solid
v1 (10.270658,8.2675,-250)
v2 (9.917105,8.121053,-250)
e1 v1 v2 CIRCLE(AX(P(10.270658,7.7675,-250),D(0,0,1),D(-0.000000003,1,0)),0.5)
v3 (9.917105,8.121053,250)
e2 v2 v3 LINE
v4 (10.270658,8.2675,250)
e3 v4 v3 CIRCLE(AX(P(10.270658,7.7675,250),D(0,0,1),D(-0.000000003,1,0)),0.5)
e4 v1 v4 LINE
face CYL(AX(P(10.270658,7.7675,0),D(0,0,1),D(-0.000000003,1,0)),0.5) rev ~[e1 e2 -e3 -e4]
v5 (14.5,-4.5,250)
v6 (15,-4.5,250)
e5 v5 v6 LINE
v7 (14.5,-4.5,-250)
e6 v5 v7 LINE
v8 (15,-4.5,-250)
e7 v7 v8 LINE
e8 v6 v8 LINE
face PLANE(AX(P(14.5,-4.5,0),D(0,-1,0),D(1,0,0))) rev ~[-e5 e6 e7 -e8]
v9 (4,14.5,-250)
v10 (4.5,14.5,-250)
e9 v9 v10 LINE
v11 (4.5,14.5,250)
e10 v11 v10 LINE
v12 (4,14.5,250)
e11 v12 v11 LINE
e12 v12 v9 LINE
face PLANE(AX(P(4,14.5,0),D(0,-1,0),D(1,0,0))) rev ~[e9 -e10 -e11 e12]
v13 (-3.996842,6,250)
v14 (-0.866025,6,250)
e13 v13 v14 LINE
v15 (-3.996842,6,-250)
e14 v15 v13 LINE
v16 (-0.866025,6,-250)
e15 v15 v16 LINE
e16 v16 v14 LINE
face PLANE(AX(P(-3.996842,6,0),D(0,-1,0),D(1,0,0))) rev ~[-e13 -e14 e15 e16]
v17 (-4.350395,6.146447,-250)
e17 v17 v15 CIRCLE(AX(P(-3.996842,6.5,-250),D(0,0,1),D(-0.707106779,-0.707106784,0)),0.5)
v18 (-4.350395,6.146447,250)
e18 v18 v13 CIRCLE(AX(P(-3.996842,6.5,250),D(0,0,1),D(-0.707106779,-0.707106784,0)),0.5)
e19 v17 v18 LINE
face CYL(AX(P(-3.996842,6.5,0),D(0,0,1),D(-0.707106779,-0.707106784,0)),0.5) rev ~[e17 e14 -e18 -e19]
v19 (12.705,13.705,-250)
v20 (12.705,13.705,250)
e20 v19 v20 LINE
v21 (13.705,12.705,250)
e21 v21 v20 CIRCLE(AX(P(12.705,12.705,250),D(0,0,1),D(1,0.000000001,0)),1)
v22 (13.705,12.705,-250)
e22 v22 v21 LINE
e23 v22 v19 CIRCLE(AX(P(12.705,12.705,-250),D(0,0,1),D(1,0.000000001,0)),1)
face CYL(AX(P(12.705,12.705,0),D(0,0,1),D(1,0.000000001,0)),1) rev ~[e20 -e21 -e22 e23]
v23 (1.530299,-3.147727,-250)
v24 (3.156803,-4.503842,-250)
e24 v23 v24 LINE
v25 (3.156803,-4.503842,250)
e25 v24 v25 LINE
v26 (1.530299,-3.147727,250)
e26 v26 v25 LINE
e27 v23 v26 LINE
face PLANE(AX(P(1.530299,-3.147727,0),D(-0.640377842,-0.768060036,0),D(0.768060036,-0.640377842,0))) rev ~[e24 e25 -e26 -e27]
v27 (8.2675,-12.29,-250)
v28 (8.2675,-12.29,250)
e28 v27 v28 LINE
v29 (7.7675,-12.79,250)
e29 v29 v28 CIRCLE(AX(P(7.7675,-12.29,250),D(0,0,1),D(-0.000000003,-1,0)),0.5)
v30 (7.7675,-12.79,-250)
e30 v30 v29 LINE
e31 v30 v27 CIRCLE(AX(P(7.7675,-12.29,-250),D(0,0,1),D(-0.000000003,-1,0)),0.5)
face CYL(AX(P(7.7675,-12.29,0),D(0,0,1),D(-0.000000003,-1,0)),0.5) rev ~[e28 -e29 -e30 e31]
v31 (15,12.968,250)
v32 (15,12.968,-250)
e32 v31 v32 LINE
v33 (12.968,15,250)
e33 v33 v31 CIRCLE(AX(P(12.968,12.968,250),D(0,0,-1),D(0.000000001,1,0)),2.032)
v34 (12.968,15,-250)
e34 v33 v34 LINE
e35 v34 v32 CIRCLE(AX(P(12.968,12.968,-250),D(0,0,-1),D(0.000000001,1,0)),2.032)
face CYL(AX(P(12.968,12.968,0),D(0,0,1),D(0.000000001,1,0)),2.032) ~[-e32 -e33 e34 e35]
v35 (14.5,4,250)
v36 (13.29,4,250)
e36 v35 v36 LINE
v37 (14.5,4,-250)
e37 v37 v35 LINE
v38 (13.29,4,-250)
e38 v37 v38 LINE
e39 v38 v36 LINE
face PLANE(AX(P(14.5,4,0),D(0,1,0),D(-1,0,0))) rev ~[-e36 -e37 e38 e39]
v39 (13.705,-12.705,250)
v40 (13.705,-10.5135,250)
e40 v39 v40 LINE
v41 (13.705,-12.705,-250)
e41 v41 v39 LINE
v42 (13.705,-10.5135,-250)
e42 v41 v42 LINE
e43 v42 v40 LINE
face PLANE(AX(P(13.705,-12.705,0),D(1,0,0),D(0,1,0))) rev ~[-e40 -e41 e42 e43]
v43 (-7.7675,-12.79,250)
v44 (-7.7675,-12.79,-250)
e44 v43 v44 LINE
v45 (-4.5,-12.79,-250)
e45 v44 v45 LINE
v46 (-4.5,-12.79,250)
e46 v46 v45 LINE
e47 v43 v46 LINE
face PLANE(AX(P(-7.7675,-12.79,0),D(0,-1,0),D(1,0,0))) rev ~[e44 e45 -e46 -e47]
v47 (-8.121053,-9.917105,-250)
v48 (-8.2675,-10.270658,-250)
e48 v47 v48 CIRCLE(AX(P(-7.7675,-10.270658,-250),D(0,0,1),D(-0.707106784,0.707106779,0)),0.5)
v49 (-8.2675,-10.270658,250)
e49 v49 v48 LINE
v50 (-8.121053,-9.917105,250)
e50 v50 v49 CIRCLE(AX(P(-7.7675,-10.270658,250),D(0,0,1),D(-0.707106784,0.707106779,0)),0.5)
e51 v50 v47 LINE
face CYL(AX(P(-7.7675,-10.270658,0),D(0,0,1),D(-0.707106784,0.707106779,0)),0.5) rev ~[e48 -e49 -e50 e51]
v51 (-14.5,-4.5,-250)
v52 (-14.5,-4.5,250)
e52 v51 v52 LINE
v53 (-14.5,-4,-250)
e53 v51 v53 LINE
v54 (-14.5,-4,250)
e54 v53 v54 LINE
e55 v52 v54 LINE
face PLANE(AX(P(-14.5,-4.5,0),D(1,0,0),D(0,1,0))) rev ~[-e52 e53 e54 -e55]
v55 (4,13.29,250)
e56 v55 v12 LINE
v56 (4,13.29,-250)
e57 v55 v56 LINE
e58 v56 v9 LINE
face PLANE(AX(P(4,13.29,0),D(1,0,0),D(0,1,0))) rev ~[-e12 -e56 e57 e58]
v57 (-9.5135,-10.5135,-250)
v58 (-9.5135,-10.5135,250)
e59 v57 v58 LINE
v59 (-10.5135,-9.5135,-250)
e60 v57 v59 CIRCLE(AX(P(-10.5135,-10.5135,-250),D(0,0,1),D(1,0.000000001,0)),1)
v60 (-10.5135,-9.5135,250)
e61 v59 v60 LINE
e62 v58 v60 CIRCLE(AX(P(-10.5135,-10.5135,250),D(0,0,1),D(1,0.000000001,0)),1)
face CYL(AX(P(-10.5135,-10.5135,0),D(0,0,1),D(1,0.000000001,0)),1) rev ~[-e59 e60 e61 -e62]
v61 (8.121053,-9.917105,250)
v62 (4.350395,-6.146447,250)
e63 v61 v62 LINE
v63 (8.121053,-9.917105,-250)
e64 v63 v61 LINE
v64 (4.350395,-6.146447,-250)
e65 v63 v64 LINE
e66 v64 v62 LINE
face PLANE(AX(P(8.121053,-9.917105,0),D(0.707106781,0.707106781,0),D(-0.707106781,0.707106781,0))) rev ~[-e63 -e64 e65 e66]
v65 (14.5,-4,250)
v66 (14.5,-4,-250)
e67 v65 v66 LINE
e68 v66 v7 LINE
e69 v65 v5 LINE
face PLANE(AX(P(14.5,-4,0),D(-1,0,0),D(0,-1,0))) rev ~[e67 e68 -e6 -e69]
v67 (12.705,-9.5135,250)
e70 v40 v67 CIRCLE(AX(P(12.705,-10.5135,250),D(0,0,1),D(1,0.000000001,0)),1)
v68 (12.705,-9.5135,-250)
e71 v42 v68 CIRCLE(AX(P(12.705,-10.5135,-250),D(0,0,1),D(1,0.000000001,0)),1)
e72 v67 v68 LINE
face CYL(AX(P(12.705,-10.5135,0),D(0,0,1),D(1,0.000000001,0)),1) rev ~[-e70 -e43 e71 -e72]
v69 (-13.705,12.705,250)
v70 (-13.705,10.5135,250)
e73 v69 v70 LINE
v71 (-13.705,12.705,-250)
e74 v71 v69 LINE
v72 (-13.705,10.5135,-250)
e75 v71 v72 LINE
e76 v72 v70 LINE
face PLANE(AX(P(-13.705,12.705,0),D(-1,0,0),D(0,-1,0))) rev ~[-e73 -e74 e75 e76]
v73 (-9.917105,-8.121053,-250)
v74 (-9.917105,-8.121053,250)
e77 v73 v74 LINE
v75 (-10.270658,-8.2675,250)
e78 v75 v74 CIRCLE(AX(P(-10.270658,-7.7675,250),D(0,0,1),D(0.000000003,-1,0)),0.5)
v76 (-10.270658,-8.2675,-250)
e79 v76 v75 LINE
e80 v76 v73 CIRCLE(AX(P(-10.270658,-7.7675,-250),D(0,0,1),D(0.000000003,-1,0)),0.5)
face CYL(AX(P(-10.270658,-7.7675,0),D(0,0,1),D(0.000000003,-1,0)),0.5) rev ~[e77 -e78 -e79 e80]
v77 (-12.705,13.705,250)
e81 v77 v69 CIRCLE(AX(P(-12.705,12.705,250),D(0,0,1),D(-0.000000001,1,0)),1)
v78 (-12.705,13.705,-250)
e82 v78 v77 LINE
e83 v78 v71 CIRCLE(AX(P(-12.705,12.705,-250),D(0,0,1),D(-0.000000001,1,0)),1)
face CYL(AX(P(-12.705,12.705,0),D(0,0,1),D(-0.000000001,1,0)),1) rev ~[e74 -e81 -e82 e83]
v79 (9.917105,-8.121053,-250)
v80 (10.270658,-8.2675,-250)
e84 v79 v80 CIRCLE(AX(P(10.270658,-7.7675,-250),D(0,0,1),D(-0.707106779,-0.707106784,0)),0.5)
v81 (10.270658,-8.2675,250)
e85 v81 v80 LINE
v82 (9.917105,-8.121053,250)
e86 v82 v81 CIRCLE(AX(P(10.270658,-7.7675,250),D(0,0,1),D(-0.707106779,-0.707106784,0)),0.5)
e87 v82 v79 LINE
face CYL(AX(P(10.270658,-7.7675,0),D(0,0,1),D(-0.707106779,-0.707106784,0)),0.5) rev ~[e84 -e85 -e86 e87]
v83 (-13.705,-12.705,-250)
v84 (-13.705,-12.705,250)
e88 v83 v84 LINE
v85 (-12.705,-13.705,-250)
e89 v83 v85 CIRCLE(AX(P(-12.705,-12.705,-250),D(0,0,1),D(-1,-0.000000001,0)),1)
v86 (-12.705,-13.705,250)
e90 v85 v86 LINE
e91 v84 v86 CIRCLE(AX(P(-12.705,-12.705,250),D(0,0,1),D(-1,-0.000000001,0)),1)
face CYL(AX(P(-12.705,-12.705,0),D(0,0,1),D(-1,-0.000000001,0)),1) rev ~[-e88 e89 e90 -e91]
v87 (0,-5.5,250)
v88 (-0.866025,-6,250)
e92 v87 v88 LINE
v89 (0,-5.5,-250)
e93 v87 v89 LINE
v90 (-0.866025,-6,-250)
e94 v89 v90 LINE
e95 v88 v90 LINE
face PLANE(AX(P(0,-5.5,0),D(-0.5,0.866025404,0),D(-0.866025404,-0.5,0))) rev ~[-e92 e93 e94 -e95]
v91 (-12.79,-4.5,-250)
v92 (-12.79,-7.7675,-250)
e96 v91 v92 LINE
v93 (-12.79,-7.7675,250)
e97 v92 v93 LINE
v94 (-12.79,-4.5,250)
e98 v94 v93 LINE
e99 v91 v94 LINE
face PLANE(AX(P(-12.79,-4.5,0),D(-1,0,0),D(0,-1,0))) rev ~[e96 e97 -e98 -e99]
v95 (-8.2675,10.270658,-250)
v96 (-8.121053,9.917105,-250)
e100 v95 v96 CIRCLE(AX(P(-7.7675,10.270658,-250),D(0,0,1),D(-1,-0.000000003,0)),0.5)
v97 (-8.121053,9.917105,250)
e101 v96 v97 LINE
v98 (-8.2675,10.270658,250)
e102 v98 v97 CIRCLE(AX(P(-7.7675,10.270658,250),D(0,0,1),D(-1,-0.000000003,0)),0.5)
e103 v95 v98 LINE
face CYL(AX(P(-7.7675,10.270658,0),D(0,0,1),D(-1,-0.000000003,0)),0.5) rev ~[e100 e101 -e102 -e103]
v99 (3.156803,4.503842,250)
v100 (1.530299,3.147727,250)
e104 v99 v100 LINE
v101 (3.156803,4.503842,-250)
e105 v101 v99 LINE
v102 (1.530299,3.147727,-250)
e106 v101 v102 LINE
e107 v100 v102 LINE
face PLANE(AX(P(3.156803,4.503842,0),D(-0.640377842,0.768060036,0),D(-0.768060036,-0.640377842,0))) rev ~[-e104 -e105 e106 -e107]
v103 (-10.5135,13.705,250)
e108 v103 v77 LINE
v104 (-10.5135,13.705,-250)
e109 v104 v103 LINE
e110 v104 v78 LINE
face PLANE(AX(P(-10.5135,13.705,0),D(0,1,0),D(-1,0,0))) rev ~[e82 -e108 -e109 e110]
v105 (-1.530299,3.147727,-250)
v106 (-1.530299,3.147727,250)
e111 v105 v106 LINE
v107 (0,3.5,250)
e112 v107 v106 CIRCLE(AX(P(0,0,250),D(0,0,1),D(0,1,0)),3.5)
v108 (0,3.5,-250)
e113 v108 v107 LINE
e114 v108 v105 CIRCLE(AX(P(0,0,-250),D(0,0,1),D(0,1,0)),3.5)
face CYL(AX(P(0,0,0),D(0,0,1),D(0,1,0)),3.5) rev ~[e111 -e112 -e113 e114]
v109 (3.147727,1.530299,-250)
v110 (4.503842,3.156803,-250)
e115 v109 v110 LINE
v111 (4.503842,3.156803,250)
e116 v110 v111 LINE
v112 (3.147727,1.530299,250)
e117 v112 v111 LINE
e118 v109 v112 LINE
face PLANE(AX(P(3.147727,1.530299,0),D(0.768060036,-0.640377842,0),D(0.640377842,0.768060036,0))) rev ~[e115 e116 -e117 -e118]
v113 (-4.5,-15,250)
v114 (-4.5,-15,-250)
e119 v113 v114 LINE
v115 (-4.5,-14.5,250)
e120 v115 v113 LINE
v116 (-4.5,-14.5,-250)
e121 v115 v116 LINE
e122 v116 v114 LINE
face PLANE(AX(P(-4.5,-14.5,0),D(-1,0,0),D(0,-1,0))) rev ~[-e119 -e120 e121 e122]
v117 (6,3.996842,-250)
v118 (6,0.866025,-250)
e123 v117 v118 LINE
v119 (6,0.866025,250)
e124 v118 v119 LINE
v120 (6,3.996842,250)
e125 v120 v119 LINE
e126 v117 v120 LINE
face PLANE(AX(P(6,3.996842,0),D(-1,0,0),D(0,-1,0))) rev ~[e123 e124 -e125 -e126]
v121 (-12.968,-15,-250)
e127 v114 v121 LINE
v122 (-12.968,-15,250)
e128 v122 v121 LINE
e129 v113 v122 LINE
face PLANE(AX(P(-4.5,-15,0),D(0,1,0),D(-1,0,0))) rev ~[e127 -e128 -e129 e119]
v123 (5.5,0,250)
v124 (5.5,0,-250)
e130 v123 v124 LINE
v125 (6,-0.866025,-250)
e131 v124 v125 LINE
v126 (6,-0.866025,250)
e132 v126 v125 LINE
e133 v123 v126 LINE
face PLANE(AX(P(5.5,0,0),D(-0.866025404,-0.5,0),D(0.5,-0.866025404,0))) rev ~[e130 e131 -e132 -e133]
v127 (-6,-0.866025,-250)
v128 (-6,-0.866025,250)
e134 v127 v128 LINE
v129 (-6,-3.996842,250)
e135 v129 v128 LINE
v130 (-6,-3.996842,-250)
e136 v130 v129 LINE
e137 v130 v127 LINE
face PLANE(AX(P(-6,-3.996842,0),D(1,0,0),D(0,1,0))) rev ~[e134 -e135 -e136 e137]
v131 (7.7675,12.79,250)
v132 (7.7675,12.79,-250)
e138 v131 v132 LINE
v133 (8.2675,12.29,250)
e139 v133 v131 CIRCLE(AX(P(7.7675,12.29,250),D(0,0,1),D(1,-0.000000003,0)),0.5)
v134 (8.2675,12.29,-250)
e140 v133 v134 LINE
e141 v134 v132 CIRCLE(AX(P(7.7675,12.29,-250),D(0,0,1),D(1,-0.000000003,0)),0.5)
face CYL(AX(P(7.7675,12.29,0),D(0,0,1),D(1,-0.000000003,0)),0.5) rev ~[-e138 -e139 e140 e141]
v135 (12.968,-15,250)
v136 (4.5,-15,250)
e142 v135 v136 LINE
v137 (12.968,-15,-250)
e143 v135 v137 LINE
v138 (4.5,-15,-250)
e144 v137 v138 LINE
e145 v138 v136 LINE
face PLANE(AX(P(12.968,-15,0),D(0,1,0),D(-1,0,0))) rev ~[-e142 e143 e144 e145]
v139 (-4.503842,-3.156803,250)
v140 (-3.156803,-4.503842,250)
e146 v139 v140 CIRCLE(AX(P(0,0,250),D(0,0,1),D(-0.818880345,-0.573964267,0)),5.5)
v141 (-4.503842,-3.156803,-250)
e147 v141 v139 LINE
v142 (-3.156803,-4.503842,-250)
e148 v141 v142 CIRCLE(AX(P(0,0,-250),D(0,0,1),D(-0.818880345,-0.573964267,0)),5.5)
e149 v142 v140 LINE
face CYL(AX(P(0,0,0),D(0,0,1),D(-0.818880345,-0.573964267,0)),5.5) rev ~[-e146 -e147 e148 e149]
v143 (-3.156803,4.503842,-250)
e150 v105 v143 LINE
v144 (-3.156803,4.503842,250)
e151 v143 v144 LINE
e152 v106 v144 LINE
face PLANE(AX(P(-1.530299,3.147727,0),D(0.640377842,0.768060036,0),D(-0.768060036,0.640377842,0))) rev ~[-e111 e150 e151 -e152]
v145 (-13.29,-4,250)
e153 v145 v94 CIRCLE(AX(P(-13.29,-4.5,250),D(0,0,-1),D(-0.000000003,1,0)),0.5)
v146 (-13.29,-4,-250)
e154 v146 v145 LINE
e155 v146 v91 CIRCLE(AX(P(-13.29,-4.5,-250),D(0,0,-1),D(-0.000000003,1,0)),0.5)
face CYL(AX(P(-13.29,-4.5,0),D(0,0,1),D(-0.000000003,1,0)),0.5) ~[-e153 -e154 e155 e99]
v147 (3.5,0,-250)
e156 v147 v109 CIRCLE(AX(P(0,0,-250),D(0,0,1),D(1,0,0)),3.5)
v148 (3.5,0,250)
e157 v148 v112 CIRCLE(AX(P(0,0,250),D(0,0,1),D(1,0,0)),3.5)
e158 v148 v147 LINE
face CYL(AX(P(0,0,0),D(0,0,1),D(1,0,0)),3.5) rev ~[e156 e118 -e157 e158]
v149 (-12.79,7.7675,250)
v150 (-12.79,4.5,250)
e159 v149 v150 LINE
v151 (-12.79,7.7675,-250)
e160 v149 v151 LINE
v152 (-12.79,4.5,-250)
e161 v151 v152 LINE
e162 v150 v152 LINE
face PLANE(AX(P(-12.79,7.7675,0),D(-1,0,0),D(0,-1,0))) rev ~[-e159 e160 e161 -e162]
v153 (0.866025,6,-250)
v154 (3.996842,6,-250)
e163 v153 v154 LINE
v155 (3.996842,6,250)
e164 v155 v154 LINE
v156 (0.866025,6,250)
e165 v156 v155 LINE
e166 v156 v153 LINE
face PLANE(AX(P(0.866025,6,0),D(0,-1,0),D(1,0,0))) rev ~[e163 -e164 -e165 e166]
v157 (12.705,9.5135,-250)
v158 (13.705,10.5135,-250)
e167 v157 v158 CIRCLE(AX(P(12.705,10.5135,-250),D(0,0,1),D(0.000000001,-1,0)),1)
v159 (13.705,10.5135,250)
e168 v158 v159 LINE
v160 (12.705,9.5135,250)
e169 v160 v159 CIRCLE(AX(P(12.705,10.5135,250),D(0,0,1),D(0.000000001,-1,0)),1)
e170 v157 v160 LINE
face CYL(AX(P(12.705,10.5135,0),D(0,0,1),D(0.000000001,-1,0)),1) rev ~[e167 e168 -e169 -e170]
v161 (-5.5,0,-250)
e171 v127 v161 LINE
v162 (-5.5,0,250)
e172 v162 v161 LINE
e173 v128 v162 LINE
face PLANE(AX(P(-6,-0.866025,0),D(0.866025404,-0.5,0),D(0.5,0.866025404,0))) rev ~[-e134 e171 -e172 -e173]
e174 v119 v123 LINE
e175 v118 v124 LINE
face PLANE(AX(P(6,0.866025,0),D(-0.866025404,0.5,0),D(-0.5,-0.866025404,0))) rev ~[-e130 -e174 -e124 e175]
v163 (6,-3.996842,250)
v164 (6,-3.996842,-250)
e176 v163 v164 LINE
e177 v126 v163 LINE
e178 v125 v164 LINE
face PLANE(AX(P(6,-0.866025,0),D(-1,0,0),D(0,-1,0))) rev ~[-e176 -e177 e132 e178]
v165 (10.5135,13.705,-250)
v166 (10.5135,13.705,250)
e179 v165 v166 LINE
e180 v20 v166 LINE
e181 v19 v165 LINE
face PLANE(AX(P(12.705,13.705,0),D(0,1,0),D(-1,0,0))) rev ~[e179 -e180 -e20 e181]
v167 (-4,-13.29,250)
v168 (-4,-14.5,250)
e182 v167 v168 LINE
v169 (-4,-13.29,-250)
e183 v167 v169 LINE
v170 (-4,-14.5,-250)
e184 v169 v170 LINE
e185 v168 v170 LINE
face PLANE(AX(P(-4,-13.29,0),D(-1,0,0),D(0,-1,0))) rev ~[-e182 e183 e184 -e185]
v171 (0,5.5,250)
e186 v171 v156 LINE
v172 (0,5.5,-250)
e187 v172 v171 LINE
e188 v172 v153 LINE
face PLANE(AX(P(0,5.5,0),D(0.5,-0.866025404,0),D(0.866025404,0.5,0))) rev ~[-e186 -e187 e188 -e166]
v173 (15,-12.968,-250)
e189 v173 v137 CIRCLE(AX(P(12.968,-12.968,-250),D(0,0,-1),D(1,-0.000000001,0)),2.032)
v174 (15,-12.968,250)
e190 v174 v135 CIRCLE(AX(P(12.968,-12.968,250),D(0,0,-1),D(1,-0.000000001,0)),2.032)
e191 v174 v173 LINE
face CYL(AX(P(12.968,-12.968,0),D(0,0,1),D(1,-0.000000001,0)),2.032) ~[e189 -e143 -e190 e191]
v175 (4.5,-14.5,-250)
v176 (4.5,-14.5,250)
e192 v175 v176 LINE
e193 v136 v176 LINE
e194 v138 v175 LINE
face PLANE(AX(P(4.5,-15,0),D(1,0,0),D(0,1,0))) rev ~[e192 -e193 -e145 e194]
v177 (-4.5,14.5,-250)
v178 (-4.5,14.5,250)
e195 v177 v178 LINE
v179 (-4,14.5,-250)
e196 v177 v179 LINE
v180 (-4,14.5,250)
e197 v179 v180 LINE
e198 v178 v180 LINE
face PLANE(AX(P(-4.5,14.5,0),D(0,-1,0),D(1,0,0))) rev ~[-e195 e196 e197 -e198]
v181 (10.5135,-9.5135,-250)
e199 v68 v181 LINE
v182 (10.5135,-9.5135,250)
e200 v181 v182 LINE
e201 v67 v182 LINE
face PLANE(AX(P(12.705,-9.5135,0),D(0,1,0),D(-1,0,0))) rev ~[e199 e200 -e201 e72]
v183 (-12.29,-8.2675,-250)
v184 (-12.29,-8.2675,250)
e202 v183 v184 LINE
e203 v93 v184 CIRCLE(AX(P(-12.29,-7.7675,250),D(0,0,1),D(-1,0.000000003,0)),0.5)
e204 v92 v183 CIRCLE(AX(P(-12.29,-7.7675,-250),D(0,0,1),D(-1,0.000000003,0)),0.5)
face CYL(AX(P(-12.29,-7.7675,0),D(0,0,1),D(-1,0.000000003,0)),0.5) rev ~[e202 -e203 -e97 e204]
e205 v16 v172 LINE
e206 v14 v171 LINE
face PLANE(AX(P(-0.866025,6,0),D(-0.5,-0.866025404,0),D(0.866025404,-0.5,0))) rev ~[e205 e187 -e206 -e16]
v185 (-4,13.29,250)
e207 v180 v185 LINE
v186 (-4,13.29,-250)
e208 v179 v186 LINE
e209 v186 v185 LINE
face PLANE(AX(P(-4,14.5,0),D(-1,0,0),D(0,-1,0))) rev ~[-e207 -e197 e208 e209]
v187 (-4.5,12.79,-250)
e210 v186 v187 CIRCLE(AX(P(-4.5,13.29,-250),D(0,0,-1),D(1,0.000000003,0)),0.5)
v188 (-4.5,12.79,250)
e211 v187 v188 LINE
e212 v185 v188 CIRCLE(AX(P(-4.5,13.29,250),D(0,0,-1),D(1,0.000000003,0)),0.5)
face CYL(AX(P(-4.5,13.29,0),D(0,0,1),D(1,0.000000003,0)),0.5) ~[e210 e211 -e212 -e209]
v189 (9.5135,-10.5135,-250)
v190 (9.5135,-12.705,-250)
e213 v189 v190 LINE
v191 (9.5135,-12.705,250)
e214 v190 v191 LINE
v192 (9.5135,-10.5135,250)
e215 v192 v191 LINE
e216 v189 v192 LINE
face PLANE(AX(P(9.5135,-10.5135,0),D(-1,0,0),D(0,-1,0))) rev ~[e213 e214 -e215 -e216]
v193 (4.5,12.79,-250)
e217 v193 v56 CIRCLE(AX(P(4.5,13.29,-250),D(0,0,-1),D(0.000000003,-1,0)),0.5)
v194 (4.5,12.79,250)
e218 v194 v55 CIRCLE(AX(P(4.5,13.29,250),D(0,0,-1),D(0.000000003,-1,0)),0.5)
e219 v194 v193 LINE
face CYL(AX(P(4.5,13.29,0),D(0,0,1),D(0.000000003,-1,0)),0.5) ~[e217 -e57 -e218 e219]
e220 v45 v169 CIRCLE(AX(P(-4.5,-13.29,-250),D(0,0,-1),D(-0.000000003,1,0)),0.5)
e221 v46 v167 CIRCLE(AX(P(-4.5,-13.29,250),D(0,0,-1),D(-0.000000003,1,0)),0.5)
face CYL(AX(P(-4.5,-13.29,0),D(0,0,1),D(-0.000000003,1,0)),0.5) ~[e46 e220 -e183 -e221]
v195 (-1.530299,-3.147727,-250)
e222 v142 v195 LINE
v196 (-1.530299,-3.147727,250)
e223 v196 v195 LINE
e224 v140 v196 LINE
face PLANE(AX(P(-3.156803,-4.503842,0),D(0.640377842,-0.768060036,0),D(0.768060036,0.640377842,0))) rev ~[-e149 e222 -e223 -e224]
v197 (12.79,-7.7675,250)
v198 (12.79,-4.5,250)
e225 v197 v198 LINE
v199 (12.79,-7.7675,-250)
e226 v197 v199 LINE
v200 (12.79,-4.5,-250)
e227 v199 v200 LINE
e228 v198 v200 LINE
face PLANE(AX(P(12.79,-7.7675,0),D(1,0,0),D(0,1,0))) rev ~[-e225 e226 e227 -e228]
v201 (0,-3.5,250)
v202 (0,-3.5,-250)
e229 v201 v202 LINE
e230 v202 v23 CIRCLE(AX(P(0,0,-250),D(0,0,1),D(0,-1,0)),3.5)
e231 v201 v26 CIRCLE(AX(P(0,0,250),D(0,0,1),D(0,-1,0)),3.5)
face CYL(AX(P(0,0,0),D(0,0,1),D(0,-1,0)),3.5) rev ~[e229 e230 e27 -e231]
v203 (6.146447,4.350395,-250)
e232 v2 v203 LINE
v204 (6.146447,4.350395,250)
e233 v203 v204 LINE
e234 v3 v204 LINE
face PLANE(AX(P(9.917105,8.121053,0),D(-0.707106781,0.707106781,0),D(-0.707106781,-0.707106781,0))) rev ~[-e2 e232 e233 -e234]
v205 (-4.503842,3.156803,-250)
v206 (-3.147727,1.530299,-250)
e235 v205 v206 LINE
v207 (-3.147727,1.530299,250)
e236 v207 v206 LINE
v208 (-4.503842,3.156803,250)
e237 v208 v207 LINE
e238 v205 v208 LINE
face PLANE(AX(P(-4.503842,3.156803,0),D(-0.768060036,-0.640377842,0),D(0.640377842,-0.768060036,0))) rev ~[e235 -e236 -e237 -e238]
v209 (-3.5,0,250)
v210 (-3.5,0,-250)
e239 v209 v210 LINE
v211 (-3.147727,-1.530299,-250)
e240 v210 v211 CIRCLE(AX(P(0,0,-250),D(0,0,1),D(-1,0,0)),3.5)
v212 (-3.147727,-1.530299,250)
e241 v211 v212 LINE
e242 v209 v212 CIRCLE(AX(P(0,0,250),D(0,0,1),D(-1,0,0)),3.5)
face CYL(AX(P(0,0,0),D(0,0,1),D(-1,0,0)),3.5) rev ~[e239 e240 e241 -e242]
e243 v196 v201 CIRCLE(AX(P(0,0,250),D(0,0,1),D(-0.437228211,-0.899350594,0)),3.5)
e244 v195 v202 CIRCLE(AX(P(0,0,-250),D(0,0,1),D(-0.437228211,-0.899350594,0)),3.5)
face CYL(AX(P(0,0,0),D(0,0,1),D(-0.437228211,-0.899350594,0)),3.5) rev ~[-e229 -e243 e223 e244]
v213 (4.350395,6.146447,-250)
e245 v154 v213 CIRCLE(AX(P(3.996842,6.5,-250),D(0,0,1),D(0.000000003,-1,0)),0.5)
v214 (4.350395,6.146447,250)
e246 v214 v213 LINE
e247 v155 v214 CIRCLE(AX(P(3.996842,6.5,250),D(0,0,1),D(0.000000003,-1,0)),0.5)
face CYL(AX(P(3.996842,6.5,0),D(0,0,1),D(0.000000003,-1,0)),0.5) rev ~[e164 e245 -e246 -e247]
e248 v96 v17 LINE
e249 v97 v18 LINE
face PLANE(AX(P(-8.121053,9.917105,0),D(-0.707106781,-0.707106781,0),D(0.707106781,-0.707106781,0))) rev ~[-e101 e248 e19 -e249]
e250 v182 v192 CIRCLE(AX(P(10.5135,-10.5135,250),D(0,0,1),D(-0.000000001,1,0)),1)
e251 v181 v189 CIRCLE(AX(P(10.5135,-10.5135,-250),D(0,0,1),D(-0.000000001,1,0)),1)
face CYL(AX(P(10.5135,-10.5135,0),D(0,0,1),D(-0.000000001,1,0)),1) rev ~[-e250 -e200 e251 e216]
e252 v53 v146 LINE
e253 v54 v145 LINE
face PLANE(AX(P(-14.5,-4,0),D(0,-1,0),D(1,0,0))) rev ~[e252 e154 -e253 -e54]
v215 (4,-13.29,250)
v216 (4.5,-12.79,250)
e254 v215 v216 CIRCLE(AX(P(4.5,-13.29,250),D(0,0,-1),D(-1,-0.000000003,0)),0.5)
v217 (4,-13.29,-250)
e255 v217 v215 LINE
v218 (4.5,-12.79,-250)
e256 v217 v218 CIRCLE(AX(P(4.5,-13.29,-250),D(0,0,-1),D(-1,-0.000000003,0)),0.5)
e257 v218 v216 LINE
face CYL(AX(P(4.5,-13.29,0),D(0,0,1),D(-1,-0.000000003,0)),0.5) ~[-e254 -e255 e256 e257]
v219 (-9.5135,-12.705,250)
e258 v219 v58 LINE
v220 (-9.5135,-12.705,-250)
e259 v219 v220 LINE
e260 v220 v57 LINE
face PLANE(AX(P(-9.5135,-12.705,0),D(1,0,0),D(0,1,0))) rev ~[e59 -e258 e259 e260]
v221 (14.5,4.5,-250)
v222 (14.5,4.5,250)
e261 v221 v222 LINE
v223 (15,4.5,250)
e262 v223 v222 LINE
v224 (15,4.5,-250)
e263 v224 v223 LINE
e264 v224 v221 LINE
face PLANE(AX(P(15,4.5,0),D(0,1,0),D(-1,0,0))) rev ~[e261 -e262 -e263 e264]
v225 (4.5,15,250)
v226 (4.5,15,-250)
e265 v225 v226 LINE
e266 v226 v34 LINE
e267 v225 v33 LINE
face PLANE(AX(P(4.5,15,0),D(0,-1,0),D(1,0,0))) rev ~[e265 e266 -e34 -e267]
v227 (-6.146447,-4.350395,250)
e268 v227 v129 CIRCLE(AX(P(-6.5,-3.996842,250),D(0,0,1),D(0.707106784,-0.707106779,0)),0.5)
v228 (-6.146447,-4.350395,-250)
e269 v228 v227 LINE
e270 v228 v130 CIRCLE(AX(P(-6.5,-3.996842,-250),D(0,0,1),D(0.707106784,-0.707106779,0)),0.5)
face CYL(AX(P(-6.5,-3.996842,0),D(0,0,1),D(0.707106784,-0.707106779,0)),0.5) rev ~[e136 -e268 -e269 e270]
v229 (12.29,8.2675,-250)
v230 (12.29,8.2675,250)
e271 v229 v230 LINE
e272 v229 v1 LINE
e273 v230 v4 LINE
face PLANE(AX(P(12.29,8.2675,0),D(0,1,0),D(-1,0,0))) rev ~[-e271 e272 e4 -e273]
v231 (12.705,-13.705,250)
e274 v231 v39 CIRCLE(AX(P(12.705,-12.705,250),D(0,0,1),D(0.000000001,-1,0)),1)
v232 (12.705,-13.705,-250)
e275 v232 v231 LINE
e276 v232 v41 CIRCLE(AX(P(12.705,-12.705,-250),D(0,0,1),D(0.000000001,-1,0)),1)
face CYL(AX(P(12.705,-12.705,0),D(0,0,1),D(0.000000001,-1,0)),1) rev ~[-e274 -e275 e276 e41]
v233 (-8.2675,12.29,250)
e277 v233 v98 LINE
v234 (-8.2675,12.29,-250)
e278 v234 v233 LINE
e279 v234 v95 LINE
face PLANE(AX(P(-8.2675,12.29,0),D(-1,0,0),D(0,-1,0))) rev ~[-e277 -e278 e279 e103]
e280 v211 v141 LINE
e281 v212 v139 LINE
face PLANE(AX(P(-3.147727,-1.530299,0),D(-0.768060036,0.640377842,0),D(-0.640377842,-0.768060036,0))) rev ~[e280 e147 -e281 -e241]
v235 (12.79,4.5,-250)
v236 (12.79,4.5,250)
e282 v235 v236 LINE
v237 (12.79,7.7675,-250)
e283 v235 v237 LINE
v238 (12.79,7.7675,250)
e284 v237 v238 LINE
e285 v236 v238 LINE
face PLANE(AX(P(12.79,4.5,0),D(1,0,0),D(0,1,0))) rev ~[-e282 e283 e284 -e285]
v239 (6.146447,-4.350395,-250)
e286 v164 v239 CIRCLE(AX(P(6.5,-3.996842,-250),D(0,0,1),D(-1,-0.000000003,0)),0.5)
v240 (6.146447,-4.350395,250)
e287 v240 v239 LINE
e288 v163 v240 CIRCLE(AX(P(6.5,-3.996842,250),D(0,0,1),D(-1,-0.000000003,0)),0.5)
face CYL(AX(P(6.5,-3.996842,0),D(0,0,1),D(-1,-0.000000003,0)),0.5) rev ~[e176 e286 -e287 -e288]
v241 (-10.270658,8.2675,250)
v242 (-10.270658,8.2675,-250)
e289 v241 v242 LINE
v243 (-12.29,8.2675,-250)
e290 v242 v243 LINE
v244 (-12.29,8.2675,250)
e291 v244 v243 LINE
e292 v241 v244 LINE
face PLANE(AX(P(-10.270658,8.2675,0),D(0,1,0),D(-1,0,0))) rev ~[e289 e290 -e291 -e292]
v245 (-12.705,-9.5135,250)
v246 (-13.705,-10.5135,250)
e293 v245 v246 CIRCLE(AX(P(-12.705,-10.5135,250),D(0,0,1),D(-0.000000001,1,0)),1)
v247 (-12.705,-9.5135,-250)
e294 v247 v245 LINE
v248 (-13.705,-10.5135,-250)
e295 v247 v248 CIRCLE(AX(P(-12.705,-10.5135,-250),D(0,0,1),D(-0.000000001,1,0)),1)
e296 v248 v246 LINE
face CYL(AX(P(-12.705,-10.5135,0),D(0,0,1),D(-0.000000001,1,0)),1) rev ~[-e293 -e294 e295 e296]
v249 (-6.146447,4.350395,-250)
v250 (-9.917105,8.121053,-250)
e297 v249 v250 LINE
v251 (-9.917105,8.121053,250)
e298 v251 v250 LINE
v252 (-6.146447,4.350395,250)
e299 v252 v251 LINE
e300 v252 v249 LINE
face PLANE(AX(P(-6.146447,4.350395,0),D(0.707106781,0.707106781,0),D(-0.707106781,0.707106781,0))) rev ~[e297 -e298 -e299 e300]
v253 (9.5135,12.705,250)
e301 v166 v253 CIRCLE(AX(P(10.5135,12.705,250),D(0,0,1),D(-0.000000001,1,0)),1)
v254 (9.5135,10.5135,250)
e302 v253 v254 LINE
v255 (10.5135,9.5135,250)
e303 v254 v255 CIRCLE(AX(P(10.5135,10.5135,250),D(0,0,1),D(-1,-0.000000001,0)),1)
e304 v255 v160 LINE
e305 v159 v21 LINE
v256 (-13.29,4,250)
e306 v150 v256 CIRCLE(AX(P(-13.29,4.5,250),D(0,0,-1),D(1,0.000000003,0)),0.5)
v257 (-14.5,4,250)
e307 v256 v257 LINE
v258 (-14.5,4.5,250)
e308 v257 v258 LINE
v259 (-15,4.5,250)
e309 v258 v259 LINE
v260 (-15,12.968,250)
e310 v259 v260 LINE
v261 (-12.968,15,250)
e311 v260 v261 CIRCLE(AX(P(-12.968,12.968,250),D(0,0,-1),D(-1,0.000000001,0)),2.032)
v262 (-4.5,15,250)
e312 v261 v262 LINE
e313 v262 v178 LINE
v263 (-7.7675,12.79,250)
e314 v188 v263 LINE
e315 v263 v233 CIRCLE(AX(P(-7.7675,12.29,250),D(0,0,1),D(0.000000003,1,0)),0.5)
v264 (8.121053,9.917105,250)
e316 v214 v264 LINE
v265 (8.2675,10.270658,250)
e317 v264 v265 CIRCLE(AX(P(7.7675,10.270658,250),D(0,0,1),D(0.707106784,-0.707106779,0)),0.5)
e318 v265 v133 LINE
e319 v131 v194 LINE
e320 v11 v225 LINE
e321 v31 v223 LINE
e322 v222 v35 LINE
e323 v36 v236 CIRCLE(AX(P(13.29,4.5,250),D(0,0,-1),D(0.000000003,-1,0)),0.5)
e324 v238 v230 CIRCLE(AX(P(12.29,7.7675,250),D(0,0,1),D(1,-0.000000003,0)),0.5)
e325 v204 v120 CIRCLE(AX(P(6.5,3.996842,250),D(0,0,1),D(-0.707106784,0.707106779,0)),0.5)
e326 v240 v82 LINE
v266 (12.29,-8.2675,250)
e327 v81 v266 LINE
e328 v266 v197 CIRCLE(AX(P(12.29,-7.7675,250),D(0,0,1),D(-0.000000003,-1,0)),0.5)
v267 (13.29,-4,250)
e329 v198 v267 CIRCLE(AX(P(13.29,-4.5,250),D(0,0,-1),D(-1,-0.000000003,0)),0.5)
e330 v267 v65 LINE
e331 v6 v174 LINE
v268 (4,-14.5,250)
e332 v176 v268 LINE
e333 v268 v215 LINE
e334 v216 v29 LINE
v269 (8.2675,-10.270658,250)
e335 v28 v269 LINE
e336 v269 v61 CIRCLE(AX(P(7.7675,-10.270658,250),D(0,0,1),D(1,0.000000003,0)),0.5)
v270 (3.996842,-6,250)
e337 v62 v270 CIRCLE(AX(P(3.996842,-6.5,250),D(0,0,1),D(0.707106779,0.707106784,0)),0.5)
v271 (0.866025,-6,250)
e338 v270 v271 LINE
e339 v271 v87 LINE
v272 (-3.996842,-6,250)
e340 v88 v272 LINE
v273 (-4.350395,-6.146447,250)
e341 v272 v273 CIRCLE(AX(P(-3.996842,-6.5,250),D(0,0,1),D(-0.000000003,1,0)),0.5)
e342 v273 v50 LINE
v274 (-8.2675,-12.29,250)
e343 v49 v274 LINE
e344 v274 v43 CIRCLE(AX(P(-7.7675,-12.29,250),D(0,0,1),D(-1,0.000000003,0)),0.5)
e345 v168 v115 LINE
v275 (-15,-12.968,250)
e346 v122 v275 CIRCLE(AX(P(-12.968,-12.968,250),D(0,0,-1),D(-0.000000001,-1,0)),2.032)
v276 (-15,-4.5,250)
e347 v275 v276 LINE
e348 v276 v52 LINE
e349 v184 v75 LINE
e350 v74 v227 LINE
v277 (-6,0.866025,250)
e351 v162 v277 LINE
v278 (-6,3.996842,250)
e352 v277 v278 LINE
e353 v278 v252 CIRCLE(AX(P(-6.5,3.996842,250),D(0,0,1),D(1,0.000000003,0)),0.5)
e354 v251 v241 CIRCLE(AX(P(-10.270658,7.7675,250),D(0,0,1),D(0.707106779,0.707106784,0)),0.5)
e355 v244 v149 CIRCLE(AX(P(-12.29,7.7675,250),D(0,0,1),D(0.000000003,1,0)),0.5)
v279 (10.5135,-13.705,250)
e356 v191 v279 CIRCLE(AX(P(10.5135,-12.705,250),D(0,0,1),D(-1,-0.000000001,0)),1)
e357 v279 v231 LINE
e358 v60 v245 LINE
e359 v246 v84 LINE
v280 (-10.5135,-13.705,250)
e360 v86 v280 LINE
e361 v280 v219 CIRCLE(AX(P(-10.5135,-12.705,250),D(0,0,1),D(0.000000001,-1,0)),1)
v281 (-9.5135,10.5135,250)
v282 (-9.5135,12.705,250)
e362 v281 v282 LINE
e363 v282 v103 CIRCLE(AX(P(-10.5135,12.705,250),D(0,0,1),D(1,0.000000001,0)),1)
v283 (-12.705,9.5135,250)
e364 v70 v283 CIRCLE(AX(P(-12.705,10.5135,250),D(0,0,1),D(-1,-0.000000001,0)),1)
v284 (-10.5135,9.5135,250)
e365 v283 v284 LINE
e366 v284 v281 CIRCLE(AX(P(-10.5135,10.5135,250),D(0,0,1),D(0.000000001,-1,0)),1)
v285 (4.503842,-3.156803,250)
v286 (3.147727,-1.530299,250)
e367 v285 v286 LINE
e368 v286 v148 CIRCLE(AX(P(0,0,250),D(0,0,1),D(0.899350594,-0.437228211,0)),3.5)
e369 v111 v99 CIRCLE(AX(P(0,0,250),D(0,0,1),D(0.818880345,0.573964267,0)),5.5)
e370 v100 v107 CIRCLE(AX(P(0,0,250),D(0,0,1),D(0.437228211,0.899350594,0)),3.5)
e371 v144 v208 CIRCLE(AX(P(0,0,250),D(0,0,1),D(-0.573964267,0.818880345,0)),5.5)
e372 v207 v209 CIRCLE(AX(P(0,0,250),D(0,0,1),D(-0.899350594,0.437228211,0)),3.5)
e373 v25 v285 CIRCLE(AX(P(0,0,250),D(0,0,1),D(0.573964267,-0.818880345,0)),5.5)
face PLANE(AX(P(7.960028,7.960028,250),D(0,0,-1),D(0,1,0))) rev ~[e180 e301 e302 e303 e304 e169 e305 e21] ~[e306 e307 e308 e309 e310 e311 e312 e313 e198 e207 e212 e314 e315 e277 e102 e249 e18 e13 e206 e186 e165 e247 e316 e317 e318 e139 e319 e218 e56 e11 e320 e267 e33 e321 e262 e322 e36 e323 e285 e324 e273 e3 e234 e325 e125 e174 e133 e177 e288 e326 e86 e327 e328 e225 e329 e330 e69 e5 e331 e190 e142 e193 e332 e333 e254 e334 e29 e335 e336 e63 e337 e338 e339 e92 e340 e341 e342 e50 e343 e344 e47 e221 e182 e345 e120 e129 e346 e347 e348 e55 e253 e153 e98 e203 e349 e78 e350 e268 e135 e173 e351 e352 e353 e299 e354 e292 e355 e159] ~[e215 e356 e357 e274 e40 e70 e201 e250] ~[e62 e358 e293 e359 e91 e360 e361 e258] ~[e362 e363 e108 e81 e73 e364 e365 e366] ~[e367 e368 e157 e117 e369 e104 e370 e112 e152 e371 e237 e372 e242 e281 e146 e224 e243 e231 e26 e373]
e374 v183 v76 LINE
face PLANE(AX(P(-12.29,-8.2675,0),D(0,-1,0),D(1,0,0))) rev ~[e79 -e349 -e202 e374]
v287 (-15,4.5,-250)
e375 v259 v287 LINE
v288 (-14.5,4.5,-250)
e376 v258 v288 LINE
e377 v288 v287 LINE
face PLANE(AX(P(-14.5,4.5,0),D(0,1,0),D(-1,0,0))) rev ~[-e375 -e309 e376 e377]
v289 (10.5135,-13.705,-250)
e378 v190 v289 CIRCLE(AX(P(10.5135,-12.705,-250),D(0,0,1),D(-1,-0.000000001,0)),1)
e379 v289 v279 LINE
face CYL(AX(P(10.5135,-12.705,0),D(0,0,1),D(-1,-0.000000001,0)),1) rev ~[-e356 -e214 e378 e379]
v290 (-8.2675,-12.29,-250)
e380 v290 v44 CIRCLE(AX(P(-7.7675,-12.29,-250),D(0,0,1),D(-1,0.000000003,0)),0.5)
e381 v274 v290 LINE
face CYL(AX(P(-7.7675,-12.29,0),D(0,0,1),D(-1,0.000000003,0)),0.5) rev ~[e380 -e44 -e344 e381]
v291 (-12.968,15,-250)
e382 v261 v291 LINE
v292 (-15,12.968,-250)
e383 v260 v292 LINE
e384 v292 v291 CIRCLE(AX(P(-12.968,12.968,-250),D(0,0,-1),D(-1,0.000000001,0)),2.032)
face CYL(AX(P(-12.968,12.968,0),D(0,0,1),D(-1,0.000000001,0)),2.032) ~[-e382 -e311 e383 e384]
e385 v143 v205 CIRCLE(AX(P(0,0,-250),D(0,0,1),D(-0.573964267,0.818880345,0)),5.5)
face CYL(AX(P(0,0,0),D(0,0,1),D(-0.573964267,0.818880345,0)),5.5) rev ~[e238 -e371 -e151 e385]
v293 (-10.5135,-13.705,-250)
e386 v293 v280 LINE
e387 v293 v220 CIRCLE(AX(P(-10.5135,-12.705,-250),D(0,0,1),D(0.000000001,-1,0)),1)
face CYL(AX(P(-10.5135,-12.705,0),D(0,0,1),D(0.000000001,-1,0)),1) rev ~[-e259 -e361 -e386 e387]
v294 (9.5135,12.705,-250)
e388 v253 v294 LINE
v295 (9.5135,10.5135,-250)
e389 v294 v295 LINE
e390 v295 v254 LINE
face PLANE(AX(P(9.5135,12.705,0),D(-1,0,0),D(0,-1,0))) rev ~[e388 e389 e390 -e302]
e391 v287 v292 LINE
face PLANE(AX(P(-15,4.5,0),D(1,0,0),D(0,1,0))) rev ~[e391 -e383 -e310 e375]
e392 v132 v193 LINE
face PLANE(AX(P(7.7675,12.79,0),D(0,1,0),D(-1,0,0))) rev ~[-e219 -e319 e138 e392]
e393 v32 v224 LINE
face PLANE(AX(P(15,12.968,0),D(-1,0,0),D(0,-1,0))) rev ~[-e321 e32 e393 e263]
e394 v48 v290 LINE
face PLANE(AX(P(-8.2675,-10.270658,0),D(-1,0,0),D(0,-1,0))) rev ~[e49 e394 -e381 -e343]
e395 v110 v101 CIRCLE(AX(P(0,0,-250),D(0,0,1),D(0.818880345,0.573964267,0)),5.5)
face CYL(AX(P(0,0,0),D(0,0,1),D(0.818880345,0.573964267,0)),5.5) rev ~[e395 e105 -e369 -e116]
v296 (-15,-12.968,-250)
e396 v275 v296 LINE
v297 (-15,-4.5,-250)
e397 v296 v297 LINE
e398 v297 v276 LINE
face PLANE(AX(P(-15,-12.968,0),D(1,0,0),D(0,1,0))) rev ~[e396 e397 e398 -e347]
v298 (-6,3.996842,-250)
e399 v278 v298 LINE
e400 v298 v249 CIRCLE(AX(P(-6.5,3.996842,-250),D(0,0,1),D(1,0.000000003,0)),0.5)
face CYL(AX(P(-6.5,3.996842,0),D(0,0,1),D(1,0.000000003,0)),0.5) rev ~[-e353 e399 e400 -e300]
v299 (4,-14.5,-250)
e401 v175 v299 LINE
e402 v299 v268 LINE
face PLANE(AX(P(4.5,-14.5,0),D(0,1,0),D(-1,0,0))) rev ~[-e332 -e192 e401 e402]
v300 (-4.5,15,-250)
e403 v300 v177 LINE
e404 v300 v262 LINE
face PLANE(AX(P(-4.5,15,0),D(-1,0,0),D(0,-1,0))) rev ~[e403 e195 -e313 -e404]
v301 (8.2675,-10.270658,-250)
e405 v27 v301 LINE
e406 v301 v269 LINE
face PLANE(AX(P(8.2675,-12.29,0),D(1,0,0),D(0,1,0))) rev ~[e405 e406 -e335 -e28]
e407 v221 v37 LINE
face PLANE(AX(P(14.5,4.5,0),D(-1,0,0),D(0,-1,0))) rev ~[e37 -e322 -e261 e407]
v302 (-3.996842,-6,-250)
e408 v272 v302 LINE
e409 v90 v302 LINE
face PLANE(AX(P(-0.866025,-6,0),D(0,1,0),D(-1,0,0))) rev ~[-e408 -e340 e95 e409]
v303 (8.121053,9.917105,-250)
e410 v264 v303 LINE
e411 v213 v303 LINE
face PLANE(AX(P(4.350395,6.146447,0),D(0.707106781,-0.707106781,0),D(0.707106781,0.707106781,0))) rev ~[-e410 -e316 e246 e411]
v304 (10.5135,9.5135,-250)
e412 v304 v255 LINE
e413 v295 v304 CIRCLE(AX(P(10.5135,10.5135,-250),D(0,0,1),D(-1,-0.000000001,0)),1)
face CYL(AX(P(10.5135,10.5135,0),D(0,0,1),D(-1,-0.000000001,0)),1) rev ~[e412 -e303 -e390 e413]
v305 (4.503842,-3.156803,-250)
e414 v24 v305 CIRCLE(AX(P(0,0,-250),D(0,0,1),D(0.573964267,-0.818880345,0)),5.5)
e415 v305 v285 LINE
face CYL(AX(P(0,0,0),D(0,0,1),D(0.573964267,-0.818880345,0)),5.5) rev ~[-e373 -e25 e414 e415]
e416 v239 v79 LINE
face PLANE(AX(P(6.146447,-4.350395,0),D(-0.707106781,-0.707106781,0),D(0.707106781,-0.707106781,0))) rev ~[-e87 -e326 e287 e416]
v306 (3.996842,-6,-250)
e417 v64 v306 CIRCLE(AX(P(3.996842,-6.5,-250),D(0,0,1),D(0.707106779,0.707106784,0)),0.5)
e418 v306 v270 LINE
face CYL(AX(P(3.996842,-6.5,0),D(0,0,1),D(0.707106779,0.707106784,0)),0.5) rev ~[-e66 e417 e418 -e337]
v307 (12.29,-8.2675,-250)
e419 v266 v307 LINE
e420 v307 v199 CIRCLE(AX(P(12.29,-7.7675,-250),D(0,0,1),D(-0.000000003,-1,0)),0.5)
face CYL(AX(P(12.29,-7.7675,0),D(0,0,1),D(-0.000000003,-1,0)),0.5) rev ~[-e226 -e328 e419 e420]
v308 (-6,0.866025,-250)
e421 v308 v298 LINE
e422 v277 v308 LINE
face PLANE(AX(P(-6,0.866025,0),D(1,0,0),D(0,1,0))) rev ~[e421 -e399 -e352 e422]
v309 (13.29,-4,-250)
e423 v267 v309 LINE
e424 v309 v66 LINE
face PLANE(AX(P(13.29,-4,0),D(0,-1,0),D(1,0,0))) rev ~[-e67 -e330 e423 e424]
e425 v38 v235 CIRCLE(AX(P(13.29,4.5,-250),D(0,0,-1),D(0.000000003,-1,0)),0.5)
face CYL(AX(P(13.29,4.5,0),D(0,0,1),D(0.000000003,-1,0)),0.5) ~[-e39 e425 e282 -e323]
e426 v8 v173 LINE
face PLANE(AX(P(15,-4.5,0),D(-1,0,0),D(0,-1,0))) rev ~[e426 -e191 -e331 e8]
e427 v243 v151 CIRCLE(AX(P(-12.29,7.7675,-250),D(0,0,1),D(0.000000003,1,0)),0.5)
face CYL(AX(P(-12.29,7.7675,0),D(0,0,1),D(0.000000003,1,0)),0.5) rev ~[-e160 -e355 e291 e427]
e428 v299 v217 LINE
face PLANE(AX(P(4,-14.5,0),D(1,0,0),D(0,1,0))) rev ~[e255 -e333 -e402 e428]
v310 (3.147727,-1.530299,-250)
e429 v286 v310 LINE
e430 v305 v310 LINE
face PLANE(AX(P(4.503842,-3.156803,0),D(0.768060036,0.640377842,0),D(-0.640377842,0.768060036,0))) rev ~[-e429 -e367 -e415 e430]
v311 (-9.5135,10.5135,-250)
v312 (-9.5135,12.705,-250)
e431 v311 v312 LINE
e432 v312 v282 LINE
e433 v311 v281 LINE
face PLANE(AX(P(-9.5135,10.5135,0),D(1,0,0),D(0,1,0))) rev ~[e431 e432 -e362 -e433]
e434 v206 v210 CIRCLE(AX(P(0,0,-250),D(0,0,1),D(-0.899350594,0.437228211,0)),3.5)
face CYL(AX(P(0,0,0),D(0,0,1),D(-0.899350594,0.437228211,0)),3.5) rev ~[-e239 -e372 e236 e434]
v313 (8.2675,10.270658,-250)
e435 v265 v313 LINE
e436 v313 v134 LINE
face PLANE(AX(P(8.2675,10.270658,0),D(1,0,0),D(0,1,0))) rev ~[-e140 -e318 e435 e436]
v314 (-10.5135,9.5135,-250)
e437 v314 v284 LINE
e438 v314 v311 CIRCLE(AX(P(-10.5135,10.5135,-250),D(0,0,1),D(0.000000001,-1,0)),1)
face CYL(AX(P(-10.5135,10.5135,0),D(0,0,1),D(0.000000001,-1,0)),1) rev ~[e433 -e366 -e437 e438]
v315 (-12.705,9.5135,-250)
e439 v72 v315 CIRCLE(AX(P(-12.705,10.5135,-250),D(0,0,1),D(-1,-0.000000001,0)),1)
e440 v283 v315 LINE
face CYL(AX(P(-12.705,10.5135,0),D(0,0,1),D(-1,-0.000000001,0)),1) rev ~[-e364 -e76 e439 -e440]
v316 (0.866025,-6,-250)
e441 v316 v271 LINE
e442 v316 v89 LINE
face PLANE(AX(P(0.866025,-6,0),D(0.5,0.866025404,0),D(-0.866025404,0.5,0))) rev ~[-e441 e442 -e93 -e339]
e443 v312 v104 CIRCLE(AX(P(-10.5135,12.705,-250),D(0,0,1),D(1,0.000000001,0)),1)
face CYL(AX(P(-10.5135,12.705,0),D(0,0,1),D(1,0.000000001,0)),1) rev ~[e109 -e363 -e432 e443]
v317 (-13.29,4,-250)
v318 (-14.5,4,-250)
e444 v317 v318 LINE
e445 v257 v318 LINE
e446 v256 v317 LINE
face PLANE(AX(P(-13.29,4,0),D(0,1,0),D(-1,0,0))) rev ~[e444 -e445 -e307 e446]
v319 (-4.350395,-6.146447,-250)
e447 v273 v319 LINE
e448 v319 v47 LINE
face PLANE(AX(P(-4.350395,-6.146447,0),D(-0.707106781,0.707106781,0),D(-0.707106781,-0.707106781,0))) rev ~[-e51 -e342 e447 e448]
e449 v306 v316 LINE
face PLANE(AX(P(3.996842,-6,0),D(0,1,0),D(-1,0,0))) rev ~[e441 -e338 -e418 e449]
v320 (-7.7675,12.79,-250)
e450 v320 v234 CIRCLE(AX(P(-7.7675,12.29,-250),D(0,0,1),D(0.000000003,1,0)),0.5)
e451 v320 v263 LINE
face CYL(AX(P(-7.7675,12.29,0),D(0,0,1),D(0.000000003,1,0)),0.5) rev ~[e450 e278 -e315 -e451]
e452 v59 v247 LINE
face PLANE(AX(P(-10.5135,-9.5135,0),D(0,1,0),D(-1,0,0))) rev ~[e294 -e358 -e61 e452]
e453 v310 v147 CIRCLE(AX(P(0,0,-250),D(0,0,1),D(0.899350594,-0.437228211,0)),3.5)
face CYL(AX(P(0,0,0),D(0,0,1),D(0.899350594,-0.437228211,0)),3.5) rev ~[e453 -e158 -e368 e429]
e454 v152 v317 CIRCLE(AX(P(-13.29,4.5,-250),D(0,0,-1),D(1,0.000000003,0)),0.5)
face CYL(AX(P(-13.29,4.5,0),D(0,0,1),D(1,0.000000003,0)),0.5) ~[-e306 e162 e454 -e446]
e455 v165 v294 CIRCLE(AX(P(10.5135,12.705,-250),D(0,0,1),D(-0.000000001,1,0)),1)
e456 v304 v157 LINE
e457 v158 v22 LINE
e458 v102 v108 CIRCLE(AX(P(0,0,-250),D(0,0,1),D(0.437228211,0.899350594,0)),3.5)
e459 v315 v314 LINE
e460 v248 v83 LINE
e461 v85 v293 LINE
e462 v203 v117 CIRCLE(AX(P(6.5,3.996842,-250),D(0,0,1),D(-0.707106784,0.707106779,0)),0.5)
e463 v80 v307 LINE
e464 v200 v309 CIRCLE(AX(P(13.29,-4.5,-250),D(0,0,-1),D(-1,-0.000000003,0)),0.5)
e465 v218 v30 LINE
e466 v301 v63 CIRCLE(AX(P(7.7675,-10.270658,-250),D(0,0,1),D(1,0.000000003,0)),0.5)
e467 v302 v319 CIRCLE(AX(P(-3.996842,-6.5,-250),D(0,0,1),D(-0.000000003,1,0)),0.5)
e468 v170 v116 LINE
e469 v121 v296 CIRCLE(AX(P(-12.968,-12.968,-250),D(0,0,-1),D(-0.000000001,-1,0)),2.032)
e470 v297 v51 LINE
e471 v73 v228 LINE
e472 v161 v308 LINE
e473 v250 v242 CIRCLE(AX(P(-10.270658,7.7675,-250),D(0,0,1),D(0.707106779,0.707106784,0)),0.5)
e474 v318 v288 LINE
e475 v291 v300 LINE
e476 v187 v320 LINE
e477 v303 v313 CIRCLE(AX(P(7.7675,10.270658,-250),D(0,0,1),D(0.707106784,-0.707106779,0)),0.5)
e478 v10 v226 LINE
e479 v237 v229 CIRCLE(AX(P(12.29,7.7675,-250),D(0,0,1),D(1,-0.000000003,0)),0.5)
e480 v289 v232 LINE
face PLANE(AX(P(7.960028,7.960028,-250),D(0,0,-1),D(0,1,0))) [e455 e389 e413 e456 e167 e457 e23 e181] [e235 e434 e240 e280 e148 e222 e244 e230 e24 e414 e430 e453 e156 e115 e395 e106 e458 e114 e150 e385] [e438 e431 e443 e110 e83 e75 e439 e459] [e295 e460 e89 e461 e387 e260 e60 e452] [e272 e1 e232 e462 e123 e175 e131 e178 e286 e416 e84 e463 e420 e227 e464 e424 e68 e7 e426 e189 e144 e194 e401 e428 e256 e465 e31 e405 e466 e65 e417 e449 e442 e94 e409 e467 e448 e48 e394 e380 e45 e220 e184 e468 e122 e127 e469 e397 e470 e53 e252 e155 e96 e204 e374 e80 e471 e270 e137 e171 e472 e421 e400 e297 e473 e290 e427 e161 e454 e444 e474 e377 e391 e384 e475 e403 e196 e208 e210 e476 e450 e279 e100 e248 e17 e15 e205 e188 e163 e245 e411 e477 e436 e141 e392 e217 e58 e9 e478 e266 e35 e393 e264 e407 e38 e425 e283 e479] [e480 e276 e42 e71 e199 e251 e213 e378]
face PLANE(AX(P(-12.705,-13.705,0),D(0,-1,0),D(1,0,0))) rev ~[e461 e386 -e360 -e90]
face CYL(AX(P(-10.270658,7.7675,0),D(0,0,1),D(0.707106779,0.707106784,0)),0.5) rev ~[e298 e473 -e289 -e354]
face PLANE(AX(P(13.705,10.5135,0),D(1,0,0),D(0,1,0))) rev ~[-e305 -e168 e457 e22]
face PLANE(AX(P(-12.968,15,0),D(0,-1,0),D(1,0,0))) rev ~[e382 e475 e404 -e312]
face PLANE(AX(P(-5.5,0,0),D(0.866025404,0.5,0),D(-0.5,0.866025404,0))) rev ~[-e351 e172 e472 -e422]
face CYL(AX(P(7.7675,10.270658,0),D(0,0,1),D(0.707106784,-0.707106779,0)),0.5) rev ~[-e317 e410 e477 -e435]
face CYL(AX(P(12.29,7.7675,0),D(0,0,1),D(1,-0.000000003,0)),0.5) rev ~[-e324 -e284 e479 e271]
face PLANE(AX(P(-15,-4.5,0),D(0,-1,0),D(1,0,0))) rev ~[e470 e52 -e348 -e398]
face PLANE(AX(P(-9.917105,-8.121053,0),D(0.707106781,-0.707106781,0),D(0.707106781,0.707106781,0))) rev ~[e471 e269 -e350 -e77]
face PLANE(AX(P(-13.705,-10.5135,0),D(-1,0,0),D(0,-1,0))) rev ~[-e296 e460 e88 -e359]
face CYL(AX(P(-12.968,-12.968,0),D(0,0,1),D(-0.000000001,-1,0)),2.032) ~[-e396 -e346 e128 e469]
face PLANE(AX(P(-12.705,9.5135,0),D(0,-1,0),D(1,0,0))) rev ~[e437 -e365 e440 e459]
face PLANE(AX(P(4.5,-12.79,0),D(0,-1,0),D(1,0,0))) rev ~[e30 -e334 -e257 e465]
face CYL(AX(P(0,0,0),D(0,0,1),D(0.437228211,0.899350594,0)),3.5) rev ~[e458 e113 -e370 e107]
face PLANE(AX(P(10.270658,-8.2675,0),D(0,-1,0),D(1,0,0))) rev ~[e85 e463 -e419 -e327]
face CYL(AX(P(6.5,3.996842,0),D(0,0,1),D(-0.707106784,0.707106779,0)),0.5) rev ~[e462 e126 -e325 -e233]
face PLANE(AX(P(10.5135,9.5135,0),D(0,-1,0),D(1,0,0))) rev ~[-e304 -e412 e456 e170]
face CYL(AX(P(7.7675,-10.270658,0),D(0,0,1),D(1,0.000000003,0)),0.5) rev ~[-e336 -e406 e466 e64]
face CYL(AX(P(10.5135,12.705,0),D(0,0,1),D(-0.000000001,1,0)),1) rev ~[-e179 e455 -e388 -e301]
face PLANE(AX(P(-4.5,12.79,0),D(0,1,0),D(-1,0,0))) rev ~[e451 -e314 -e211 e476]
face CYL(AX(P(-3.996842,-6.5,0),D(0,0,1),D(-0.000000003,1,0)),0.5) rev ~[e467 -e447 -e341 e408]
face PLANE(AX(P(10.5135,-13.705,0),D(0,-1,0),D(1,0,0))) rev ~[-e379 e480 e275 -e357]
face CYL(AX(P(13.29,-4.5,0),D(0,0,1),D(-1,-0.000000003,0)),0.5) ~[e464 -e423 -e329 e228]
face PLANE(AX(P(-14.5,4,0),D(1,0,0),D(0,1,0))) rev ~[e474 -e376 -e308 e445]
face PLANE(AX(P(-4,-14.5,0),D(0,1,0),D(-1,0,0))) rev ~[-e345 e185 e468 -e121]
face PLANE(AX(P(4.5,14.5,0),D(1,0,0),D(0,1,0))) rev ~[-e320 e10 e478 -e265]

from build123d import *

# Parameters (mm, degrees)
BOSS_EXTRUDE1_DEPTH = 250
CIRPATTERN1_COUNT   = 4


with BuildPart() as part:
    # Sketch3 → Boss-Extrude1 (new, symmetric)
    with BuildSketch(Plane.XY):
        with BuildLine():
            Line((-4.503841895, 3.156803476), (-3.14772708, 1.530298739))
            ThreePointArc((-3.14772708, 1.530298739), (-3.410794979, 0.785160882), (-3.5, 0))
            Line((-3.5, 0), (-5.5, 0))
            Line((-5.5, 0), (-6, 0.866025404))
            Line((-6, 0.866025404), (-6, 3.996841995))
            ThreePointArc((-6, 3.996841995), (-6.038060234, 4.188183711), (-6.146446609, 4.350395385))
            Line((-6.146446609, 4.350395385), (-9.917104615, 8.121053391))
            ThreePointArc((-9.917104615, 8.121053391), (-10.079316289, 8.229439766), (-10.270658005, 8.2675))
            Line((-10.270658005, 8.2675), (-12.29, 8.2675))
            ThreePointArc((-12.29, 8.2675), (-12.643553391, 8.121053391), (-12.79, 7.7675))
            Line((-12.79, 7.7675), (-12.79, 4.5))
            ThreePointArc((-12.79, 4.5), (-12.936446609, 4.146446609), (-13.29, 4))
            Line((-13.29, 4), (-14.5, 4))
            Line((-14.5, 4), (-14.5, 4.5))
            Line((-14.5, 4.5), (-15, 4.5))
            Line((-15, 4.5), (-15, 12.968))
            ThreePointArc((-15, 12.968), (-14.404840979, 14.404840979), (-12.968, 15))
            Line((-12.968, 15), (-4.5, 15))
            Line((-4.5, 15), (-4.5, 14.5))
            Line((-4.5, 14.5), (-4, 14.5))
            Line((-4, 14.5), (-4, 13.29))
            ThreePointArc((-4, 13.29), (-4.146446609, 12.936446609), (-4.5, 12.79))
            Line((-4.5, 12.79), (-7.7675, 12.79))
            ThreePointArc((-7.7675, 12.79), (-8.121053391, 12.643553391), (-8.2675, 12.29))
            Line((-8.2675, 12.29), (-8.2675, 10.270658005))
            ThreePointArc((-8.2675, 10.270658005), (-8.229439766, 10.079316289), (-8.121053391, 9.917104615))
            Line((-8.121053391, 9.917104615), (-4.350395385, 6.146446609))
            ThreePointArc((-4.350395385, 6.146446609), (-4.188183711, 6.038060234), (-3.996841995, 6))
            Line((-3.996841995, 6), (-0.866025404, 6))
            Line((-0.866025404, 6), (0, 5.5))
            Line((0, 5.5), (0, 3.5))
            ThreePointArc((0, 3.5), (-0.785160882, 3.410794979), (-1.530298739, 3.14772708))
            Line((-1.530298739, 3.14772708), (-3.156803476, 4.503841895))
            ThreePointArc((-3.156803476, 4.503841895), (-3.889087297, 3.889087297), (-4.503841895, 3.156803476))
        make_face()
        with BuildLine():
            Line((-12.705, 9.5135), (-10.5135, 9.5135))
            ThreePointArc((-10.5135, 9.5135), (-9.806393219, 9.806393219), (-9.5135, 10.5135))
            Line((-9.5135, 10.5135), (-9.5135, 12.705))
            ThreePointArc((-9.5135, 12.705), (-9.806393219, 13.412106781), (-10.5135, 13.705))
            Line((-10.5135, 13.705), (-12.705, 13.705))
            ThreePointArc((-12.705, 13.705), (-13.412106781, 13.412106781), (-13.705, 12.705))
            Line((-13.705, 12.705), (-13.705, 10.5135))
            ThreePointArc((-13.705, 10.5135), (-13.412106781, 9.806393219), (-12.705, 9.5135))
        make_face(mode=Mode.SUBTRACT)
    boss_extrude1 = extrude(amount=BOSS_EXTRUDE1_DEPTH, both=True)

    # CirPattern1: Boss-Extrude1 ×4 about axis
    cirpattern1_axis = Axis((0, 0, 0), (0, 0, 1))
    for i in range(1, CIRPATTERN1_COUNT):
        add(boss_extrude1.rotate(cirpattern1_axis, i * 360 / CIRPATTERN1_COUNT))


solid = part.part
